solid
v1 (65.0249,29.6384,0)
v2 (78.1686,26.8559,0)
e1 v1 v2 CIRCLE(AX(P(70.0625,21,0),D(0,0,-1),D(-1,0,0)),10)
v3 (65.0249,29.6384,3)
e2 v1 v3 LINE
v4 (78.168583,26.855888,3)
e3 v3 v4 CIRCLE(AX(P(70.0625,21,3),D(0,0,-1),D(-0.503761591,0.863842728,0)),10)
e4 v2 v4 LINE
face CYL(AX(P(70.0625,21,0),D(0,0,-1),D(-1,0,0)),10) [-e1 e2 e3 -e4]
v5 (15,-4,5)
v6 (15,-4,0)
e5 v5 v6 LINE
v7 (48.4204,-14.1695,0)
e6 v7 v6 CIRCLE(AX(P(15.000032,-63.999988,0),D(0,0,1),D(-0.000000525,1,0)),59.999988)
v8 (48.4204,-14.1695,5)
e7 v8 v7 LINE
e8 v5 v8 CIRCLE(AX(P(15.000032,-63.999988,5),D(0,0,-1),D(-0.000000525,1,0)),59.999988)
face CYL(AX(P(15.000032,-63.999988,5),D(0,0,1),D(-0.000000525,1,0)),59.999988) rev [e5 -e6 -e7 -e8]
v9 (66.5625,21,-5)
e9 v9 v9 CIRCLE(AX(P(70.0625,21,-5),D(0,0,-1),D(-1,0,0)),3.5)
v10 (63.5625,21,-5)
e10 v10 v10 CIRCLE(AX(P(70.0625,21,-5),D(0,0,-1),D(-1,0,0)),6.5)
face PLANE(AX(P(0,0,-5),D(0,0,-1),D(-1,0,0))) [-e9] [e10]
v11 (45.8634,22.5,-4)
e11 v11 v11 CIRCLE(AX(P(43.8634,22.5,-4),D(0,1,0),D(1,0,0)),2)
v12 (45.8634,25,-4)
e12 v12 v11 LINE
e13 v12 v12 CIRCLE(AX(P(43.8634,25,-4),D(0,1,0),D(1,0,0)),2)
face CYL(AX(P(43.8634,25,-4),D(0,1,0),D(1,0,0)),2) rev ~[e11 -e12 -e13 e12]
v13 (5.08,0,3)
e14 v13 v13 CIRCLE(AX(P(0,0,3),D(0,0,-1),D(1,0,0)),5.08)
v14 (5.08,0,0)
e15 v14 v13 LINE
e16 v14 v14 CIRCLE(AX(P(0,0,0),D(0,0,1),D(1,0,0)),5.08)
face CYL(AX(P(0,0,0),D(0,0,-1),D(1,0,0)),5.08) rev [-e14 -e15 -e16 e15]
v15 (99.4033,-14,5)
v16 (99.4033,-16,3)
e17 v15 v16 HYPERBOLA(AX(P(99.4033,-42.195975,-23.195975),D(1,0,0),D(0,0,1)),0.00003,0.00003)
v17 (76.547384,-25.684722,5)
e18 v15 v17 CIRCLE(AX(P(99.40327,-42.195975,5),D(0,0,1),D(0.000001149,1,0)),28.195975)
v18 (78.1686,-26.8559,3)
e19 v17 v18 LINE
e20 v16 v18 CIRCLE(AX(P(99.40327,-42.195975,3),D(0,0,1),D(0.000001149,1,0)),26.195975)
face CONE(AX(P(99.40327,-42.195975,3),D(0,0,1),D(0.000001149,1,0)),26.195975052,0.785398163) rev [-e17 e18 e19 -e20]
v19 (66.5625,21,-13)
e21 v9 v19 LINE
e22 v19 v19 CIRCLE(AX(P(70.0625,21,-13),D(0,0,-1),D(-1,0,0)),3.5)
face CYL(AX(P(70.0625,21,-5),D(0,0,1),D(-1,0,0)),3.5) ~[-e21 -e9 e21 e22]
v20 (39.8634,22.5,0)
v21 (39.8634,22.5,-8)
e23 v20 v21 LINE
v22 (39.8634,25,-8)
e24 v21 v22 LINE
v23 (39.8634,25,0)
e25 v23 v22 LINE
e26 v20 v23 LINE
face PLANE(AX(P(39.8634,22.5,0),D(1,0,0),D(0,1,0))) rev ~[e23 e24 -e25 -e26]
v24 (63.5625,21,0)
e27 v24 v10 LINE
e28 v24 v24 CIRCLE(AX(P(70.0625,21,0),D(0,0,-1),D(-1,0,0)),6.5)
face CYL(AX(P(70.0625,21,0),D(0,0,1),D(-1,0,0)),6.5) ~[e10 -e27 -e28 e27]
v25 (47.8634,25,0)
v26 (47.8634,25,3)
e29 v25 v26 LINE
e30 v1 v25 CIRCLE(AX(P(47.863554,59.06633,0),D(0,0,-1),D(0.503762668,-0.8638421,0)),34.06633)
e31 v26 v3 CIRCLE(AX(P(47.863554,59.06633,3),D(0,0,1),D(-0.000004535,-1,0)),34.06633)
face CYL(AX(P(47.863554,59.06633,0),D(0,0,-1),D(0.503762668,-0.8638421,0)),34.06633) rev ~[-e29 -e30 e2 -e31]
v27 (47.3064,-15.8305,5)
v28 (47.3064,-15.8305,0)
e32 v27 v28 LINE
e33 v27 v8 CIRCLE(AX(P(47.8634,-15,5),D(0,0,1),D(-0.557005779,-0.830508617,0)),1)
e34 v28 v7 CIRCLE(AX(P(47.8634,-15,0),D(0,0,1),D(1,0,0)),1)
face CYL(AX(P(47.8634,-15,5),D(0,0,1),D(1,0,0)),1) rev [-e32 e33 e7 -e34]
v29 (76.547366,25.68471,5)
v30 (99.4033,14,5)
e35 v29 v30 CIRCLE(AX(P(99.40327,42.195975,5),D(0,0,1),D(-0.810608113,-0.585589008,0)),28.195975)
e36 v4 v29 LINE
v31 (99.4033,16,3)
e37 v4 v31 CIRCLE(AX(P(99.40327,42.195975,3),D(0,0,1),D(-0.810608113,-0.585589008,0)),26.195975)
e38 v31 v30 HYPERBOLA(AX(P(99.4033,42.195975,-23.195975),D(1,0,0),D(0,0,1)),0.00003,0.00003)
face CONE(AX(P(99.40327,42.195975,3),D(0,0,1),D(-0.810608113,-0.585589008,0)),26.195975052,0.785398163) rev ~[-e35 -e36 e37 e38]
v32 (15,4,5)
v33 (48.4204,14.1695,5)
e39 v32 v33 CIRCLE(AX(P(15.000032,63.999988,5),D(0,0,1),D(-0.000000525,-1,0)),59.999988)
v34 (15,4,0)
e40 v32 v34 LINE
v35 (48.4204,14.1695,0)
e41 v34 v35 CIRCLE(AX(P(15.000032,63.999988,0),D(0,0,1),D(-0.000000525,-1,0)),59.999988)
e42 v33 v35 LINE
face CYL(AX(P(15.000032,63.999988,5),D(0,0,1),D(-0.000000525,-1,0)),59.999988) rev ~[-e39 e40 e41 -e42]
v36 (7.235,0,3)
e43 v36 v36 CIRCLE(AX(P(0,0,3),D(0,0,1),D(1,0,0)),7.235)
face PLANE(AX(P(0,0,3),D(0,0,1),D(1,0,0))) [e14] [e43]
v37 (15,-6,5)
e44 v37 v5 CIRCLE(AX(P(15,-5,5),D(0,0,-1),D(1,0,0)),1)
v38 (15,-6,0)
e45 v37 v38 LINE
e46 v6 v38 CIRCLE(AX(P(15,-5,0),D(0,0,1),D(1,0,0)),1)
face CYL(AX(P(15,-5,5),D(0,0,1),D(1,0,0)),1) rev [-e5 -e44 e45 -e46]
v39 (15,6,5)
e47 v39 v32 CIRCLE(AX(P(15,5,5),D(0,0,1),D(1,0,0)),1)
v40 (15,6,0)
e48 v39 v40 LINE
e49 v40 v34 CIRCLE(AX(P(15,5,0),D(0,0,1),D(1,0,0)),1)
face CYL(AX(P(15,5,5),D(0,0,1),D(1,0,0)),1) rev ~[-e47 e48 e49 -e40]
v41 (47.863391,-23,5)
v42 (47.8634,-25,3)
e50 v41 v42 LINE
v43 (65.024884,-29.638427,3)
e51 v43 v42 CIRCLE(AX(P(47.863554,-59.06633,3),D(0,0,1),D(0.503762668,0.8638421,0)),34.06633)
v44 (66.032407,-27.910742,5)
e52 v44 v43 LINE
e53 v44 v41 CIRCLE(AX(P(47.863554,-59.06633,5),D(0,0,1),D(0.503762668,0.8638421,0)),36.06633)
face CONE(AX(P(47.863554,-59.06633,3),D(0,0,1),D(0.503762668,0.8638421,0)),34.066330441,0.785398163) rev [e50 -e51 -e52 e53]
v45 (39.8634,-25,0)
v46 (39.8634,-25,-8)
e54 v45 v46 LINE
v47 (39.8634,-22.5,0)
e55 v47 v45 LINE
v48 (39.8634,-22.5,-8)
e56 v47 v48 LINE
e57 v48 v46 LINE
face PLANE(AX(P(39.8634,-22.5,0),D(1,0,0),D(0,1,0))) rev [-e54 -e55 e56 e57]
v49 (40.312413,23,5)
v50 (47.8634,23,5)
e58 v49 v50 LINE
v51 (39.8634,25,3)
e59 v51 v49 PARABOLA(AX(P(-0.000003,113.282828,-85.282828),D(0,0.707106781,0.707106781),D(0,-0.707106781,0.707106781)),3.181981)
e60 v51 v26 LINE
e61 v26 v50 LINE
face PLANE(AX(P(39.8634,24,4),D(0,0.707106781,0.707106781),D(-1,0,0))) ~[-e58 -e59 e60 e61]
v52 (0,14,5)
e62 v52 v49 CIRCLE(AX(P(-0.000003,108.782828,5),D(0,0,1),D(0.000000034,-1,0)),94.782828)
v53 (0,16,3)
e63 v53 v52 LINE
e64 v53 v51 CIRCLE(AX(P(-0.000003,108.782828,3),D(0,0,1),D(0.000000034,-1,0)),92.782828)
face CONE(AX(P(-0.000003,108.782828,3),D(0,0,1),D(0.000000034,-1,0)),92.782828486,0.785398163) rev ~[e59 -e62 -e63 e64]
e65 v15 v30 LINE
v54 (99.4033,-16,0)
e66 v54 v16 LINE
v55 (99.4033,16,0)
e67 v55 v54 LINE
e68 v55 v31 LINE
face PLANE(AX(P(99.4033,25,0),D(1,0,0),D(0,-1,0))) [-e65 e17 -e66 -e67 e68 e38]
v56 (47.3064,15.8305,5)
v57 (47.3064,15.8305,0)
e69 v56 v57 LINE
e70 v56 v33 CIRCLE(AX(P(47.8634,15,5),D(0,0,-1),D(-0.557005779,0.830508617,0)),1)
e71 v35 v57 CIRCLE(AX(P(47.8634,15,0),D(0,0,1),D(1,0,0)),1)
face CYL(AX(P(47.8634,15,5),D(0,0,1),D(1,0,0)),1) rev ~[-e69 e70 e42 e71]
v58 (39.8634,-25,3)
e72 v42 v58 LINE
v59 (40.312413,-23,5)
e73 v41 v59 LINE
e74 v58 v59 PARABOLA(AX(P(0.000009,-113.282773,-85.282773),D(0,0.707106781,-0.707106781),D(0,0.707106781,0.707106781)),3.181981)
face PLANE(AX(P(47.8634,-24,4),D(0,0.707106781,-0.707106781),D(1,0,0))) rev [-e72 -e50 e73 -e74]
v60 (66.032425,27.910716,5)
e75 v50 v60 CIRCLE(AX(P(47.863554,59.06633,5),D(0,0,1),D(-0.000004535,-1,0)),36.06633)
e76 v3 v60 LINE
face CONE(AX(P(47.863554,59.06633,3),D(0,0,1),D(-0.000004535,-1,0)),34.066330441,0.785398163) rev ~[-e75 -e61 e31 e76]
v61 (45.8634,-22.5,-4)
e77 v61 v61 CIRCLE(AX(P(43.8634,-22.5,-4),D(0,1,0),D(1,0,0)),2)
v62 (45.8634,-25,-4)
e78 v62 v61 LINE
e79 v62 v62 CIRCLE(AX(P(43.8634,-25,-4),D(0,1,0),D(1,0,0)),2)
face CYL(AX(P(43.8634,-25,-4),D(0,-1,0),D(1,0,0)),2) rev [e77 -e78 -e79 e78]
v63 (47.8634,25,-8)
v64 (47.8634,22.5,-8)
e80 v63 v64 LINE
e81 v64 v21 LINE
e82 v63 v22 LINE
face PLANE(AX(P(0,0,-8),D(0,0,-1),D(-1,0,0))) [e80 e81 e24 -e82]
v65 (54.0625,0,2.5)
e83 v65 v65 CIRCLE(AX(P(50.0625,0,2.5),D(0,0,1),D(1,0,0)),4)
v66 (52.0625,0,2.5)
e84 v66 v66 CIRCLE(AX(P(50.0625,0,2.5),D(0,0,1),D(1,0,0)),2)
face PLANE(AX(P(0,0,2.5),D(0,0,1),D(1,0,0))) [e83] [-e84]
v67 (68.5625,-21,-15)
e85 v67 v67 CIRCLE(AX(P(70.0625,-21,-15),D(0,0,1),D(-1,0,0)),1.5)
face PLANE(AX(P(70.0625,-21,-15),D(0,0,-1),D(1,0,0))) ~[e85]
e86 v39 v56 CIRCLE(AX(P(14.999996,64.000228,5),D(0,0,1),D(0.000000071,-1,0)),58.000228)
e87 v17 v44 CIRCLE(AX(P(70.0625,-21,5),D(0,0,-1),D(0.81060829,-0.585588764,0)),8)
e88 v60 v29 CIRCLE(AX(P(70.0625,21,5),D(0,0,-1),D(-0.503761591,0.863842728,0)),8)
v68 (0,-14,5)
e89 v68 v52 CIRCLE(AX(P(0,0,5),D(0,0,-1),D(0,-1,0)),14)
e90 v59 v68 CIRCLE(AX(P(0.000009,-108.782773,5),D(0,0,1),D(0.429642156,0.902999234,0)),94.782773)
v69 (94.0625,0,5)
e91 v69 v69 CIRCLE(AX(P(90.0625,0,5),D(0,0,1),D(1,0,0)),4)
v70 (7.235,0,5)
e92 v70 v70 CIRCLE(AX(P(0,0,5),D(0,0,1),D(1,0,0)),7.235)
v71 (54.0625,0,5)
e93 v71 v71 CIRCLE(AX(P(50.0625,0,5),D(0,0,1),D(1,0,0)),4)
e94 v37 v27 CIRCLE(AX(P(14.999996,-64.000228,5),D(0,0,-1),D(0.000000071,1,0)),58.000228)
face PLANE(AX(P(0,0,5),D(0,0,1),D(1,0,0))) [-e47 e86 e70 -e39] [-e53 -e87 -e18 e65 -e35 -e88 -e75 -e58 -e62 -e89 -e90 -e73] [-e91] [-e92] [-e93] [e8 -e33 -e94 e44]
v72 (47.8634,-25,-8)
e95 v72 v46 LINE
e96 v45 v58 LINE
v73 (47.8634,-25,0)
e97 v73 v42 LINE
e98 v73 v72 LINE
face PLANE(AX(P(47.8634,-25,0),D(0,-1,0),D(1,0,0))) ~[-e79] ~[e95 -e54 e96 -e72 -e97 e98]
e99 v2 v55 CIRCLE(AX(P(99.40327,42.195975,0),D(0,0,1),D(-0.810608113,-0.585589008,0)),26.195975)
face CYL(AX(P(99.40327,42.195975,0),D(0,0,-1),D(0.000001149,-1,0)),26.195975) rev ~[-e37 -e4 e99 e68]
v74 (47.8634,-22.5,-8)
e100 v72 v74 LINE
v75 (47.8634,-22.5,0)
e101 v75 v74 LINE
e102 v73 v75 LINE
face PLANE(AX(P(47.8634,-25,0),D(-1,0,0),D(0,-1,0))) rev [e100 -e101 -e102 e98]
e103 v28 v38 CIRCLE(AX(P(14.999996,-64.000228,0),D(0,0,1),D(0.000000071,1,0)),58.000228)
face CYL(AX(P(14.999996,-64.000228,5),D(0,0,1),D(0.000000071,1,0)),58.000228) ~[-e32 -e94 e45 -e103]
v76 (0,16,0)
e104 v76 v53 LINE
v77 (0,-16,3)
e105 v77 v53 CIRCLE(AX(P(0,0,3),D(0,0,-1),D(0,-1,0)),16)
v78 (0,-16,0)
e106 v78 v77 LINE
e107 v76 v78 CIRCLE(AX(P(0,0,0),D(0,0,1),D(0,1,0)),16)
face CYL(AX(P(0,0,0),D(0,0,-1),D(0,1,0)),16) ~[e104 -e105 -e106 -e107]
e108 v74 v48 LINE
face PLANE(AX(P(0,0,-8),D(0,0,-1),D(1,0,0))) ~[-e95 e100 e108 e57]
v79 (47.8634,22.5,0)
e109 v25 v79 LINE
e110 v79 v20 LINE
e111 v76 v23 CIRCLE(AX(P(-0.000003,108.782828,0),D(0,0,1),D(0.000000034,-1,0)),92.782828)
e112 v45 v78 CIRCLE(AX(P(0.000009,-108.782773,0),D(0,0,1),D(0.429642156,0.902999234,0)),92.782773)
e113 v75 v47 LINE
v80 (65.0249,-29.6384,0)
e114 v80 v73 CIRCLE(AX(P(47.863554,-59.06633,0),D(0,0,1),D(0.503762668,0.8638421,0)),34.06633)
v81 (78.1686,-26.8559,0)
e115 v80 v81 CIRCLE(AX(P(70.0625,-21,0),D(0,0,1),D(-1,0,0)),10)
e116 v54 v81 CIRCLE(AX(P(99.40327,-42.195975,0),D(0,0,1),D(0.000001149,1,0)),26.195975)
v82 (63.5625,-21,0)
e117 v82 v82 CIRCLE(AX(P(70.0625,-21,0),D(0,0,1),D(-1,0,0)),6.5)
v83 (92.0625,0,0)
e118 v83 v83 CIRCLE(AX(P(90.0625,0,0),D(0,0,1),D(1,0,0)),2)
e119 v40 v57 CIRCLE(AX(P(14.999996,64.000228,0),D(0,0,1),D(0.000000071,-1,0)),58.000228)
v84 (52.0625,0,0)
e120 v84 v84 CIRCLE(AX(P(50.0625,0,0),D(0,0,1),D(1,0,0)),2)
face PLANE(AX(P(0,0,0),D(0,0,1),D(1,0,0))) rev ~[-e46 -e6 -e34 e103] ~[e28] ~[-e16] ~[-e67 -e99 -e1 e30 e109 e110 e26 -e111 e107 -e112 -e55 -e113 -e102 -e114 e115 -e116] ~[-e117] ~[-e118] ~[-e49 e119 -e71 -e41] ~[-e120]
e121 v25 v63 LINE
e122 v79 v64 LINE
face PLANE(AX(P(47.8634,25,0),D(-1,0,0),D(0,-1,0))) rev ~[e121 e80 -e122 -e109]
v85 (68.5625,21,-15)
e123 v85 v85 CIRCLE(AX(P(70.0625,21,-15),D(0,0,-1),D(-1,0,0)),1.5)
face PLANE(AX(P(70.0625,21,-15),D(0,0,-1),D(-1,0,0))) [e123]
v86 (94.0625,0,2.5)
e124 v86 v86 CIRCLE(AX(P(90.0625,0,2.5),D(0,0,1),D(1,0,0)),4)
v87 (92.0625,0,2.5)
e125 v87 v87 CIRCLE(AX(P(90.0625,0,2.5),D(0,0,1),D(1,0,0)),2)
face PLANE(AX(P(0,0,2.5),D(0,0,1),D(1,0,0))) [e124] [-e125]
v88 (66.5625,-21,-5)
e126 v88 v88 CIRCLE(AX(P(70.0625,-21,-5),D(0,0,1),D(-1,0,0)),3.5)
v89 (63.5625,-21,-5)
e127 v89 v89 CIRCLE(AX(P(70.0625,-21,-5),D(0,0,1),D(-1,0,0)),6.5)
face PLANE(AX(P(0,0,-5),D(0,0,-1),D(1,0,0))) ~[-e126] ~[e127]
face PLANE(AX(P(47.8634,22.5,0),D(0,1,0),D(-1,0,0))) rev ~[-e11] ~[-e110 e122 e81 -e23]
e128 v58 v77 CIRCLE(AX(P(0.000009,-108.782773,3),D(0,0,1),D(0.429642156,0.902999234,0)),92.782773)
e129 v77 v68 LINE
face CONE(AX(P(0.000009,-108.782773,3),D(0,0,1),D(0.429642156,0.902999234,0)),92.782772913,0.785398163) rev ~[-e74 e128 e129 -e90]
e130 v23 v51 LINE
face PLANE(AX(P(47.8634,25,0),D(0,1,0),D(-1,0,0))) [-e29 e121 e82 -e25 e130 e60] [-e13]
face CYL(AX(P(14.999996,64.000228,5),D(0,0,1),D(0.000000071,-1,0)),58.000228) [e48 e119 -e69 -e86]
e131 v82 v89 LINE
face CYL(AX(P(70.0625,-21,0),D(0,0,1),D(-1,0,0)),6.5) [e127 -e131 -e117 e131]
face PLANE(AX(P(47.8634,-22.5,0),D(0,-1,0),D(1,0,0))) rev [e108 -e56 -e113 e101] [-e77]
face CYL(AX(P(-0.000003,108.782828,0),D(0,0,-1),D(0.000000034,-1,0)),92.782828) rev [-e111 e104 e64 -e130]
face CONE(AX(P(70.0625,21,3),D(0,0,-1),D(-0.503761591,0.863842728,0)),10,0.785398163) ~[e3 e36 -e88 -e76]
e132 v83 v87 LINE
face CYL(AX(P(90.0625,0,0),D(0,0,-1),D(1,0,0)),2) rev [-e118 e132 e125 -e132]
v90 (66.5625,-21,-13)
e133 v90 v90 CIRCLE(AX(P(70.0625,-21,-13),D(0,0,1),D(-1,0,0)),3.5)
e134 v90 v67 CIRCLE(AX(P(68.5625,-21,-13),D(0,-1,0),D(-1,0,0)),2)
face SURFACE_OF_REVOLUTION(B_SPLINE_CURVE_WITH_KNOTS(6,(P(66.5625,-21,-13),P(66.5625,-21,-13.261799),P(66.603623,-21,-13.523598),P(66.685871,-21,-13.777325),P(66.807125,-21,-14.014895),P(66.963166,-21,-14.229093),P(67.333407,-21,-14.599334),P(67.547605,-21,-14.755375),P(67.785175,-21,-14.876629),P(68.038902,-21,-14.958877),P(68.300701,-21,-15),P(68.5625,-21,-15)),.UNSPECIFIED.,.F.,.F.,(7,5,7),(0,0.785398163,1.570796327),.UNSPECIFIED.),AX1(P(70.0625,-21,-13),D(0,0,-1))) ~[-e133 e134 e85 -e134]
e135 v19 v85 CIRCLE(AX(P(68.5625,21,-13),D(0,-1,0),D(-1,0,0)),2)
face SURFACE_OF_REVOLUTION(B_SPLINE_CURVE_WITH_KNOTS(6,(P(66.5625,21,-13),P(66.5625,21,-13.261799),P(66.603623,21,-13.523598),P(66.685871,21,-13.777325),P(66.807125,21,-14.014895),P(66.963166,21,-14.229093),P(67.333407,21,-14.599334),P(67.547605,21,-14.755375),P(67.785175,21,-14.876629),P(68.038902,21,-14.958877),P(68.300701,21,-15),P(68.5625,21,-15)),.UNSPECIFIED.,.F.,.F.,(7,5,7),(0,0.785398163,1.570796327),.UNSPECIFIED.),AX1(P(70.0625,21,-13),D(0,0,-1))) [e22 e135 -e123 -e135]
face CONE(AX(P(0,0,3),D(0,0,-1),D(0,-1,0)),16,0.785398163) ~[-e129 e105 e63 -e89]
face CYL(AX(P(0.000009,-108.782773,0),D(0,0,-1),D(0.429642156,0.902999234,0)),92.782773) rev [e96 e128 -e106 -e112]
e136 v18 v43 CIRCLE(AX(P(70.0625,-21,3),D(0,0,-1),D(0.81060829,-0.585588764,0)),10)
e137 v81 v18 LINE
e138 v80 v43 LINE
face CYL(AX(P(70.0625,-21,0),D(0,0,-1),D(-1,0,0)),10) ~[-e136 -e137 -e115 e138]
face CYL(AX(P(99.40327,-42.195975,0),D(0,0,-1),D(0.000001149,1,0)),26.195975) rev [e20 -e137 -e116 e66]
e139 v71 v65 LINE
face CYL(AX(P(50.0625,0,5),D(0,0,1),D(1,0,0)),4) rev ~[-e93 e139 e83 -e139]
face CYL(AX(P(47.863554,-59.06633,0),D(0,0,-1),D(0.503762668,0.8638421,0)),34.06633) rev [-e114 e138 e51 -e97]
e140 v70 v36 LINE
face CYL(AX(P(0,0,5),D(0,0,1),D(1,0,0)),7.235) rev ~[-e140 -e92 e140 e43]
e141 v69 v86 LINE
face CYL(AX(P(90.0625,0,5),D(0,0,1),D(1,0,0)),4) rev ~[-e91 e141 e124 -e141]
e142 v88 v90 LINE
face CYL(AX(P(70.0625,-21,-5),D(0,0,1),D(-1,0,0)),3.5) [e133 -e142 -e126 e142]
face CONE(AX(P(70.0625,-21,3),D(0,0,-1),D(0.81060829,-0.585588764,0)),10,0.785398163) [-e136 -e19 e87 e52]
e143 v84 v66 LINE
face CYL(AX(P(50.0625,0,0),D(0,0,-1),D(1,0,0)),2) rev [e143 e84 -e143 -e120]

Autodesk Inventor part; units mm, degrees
ref_plane "YZ Plane" through (0, 0, 0) normal (1, 0, 0) x (0, 1, 0)
ref_plane "XZ Plane" through (0, 0, 0) normal (0, 1, 0) x (-1, 0, 0)
ref_plane "XY Plane" through (0, 0, 0) normal (0, 0, 1) x (1, 0, 0)
sketch "Sketch1" plane through (0, 0, 0) normal (0, 0, 1) x (1, 0, 0)
  circle A0 centre (0, 0) radius 5.08
  arc A1 (0, 16) -> (0, -16) centre (0, 0) ccw
  line L0 (0, 16) -> (99.4033, 16)
  line L1 (99.4033, 16) -> (99.4033, -16)
  line L2 (99.4033, -16) -> (0, -16)
  line L3 (0, -16) -> (0, 16) construction
  line L4 (39.8634, 25) -> (99.4033, 25)
  line L5 (99.4033, 25) -> (99.4033, -25)
  line L6 (99.4033, -25) -> (39.8634, -25)
  line L7 (39.8634, -25) -> (39.8634, 25)
  arc A2 (39.8634, -25) -> (0, -16) centre (0, -108.7828) ccw
  arc A3 (0, 16) -> (39.8634, 25) centre (0, 108.7828) ccw
  circle A4 centre (50.0625, 0) radius 2
  circle A5 centre (90.0625, 0) radius 2
  line L8 (-16, 0) -> (99.4033, 0) construction
  point P0 (39.8634, 0)
  dimension "d1" = 10.16
  dimension "d3" = 50
  dimension "d4" = 59.5399
  dimension "d12" = 4
  dimension "d13" = 40
  dimension "d14" = 50.0625
  dimension "d15" = 9.3408
  dimension "d44" = 16
extrude "Extrusion1" add sketch "Sketch1" along normal blind 5
ref_plane "Work Plane1" through (39.8634, 0, 0) normal (0, -1, 0) x (1, 0, 0)
sketch "Sketch4" plane through (0, 0, 5) normal (0, 0, 1) x (1, 0, 0)
  arc A0 (15, 6) -> (47.3064, 15.8305) centre (15, 64.0002) ccw
  arc A1 (15, 4) -> (48.4204, 14.1695) centre (15, 64.0002) ccw
  circle A2 centre (47.8634, 15) radius 1
  circle A3 centre (15, 5) radius 1
  arc A4 (0, 16) -> (39.8634, 25) centre (0, 108.7828) ccw projected
  line L0 (99.4033, 25) -> (39.8634, 25) projected
  line L1 (122.484, 0) -> (-39.0807, 0) projected
  line L2 (15, 4) -> (47.8634, 4) construction
  point P0 (0, 0)
  dimension "d16" = 2
  dimension "d17" = 10
  dimension "d18" = 8
  dimension "d19" = 15
  dimension "d20" = 5
extrude "Extrusion3" cut sketch "Sketch4" against normal through all
mirror "Mirror1" about plane through (39.8634, 0, 0) normal (0, -1, 0) of "Extrusion3"
sketch "Sketch5" plane through (0, 0, 0) normal (0, 0, -1) x (-1, 0, 0)
  arc A0 (-15, -4) -> (-48.4204, -14.1695) centre (-15, -64.0002) ccw projected
  arc A1 (-15, -6) -> (-15, -4) centre (-15, -5) ccw projected
  arc A2 (-15, -6) -> (-47.3064, -15.8305) centre (-15, -64.0002) ccw projected
  arc A3 (-48.4204, -14.1695) -> (-47.3064, -15.8305) centre (-47.8634, -15) ccw projected
  arc A4 (-47.3064, 15.8305) -> (-15, 6) centre (-15, 64.0002) ccw projected
  arc A5 (-15, 4) -> (-15, 6) centre (-15, 5) ccw projected
  arc A6 (-48.4204, 14.1695) -> (-15, 4) centre (-15, 64.0002) ccw projected
  arc A7 (-47.3064, 15.8305) -> (-48.4204, 14.1695) centre (-47.8634, 15) ccw projected
  arc A8 (0, -16) -> (0, 16) centre (0, 0) ccw projected
  arc A9 (-39.8634, 25) -> (0, 16) centre (0, 108.7828) ccw projected
  line L0 (-99.4033, 25) -> (-39.8634, 25) projected
  line L1 (-99.4033, -25) -> (-99.4033, 25) projected
  line L2 (-39.8634, -25) -> (-99.4033, -25) projected
  arc A10 (0, -16) -> (-39.8634, -25) centre (0, -108.7828) ccw projected
  circle A11 centre (-50.0625, 0) radius 2 projected
  circle A12 centre (-90.0625, 0) radius 2 projected
  circle A13 centre (0, 0) radius 5.08 projected
  line L3 (-39.8634, 25) -> (-47.8634, 25)
  line L4 (-47.8634, 25) -> (-47.8634, 22.5)
  line L5 (-47.8634, 22.5) -> (-39.8634, 22.5)
  line L6 (-39.8634, 22.5) -> (-39.8634, 25)
  dimension "d23" = 8
  dimension "d24" = 2.5
extrude "Extrusion4" add sketch "Sketch5" along normal blind 8 contours L6 L5 L4 L0
sketch "Sketch6" plane through (39.8634, 25, 5) normal (0, 1, 0) x (1, 0, 0)
  line L0 (59.5399, 5) -> (8, 5) projected
  line L1 (8, 5) -> (8, 13) projected
  line L2 (0, 13) -> (8, 13) projected
  line L3 (0, 5) -> (0, 13) projected
  line L4 (0, 5) -> (0, 0) projected
  line L5 (59.5399, 0) -> (0, 0) projected
  line L6 (59.5399, 5) -> (59.5399, 0) projected
  circle A0 centre (4, 9) radius 2
  line L7 (4, 13) -> (4, 9) construction
  point P0 (-39.8634, 5)
  dimension "d27" = 4
  dimension "d28" = 4
extrude "Extrusion5" cut sketch "Sketch6" against normal up to next contours A0
mirror "Mirror2" about plane through (39.8634, 0, 0) normal (0, -1, 0) of "Extrusion4", "Extrusion5"
sketch "Sketch7" plane through (0, 0, 0) normal (0, 0, -1) x (-1, 0, 0)
  circle A0 centre (0, 0) radius 5.08 projected
  circle A1 centre (-90.0625, 0) radius 2 projected
  circle A2 centre (-50.0625, 0) radius 2 projected
  arc A3 (-47.3064, 15.8305) -> (-15, 6) centre (-15, 64.0002) ccw projected
  arc A4 (-15, 4) -> (-15, 6) centre (-15, 5) ccw projected
  arc A5 (-48.4204, 14.1695) -> (-15, 4) centre (-15, 64.0002) ccw projected
  arc A6 (-47.3064, 15.8305) -> (-48.4204, 14.1695) centre (-47.8634, 15) ccw projected
  arc A7 (-15, -4) -> (-48.4204, -14.1695) centre (-15, -64.0002) ccw projected
  arc A8 (-15, -6) -> (-15, -4) centre (-15, -5) ccw projected
  arc A9 (-15, -6) -> (-47.3064, -15.8305) centre (-15, -64.0002) ccw projected
  arc A10 (-48.4204, -14.1695) -> (-47.3064, -15.8305) centre (-47.8634, -15) ccw projected
  line L0 (-47.8634, -25) -> (-47.8634, -22.5) projected
  line L1 (-47.8634, -22.5) -> (-39.8634, -22.5) projected
  line L2 (-39.8634, -22.5) -> (-39.8634, -25) projected
  arc A11 (0, -16) -> (-39.8634, -25) centre (0, -108.7828) ccw projected
  arc A12 (0, -16) -> (0, 16) centre (0, 0) ccw projected
  arc A13 (-39.8634, 25) -> (0, 16) centre (0, 108.7828) ccw projected
  line L3 (-39.8634, 25) -> (-39.8634, 22.5) projected
  line L4 (-39.8634, 22.5) -> (-47.8634, 22.5) projected
  line L5 (-47.8634, 22.5) -> (-47.8634, 25) projected
  line L6 (-99.4033, 25) -> (-47.8634, 25) projected
  line L7 (-99.4033, -25) -> (-99.4033, 25) projected
  line L8 (-47.8634, -25) -> (-99.4033, -25) projected
  circle A14 centre (-70.0625, 21) radius 10
  arc A15 (-65.0249, 29.6384) -> (-47.8634, 25) centre (-47.8634, 59.0667) ccw
  line L9 (-99.4033, 25) -> (-47.8634, 25) projected
  line L10 (39.0807, 0) -> (-122.484, 0) projected
  line L11 (-70.0625, -25) -> (-70.0625, 21) construction
  line L12 (-90.0625, 0) -> (-50.0625, 0) construction
  line L13 (0, 16) -> (-99.4033, 16) construction
  arc A16 (-99.4033, 16) -> (-78.1686, 26.8559) centre (-99.4033, 42.1961) ccw
  point P0 (-92.2616, 25)
  point P1 (-75.1001, 29.6384)
  point P2 (-70.0625, 0)
  point P3 (-60.8973, 25)
  point P4 (-79.2277, 25)
  point P5 (-79.6415, 25)
  dimension "d31" = 20
  dimension "d32" = 21
extrude "Extrusion6" add sketch "Sketch7" against normal up to surface (5 mm away) contours L6 A14 A15 | L6 A14 | A16 A14 L6 picked at (-67.4658, 26.7505)
sketch "Sketch8" plane through (0, 0, 0) normal (0, 0, -1) x (-1, 0, 0)
  circle A0 centre (0, 0) radius 5.08 projected
  circle A1 centre (-90.0625, 0) radius 2 projected
  circle A2 centre (-50.0625, 0) radius 2 projected
  arc A3 (-47.3064, 15.8305) -> (-15, 6) centre (-15, 64.0002) ccw projected
  arc A4 (-15, 4) -> (-15, 6) centre (-15, 5) ccw projected
  arc A5 (-48.4204, 14.1695) -> (-15, 4) centre (-15, 64.0002) ccw projected
  arc A6 (-47.3064, 15.8305) -> (-48.4204, 14.1695) centre (-47.8634, 15) ccw projected
  arc A7 (-15, -4) -> (-48.4204, -14.1695) centre (-15, -64.0002) ccw projected
  arc A8 (-15, -6) -> (-15, -4) centre (-15, -5) ccw projected
  arc A9 (-15, -6) -> (-47.3064, -15.8305) centre (-15, -64.0002) ccw projected
  arc A10 (-48.4204, -14.1695) -> (-47.3064, -15.8305) centre (-47.8634, -15) ccw projected
  line L0 (-47.8634, -25) -> (-47.8634, -22.5) projected
  line L1 (-47.8634, -22.5) -> (-39.8634, -22.5) projected
  line L2 (-39.8634, -22.5) -> (-39.8634, -25) projected
  arc A11 (0, -16) -> (-39.8634, -25) centre (0, -108.7828) ccw projected
  arc A12 (0, -16) -> (0, 16) centre (0, 0) ccw projected
  arc A13 (-39.8634, 25) -> (0, 16) centre (0, 108.7828) ccw projected
  line L3 (-39.8634, 25) -> (-39.8634, 22.5) projected
  line L4 (-39.8634, 22.5) -> (-47.8634, 22.5) projected
  line L5 (-47.8634, 22.5) -> (-47.8634, 25) projected
  arc A14 (-65.0249, 29.6384) -> (-47.8634, 25) centre (-47.8634, 59.0667) ccw projected
  arc A15 (-65.0249, 29.6384) -> (-78.1686, 26.8559) centre (-70.0625, 21) ccw projected
  line L6 (-99.4033, 25) -> (-79.6415, 25) projected
  line L7 (-99.4033, -25) -> (-99.4033, 25) projected
  line L8 (-47.8634, -25) -> (-99.4033, -25) projected
  circle A16 centre (-70.0625, 21) radius 6.5
  arc A17 (-79.6415, 25) -> (-78.1686, 26.8559) centre (-99.4033, 42.1961) ccw projected
  dimension "d35" = 13
extrude "Extrusion7" add sketch "Sketch8" along normal blind 5 contours A16
sketch "Sketch9" plane through (70.0625, 21, -5) normal (0, 0, -1) x (-1, 0, 0)
  circle A0 centre (0, 0) radius 3.5
  circle A1 centre (0, 0) radius 6.5 projected
  point P0 (70.0625, -21)
  dimension "d38" = 7
extrude "Extrusion8" add sketch "Sketch9" along normal blind 10 contours A0
fillet "Fillet1" radius 2 1 edges at (73.5625, 21, -15)
extrude "Extrusion9" cut sketch "Sketch7" against normal through all contours L7 L6 A16
mirror "Mirror3" about plane through (39.8634, 0, 0) normal (0, -1, 0) of "Extrusion6", "Extrusion7", "Extrusion8", "Fillet1", "Extrusion9"
sketch "Sketch10" plane through (0, 0, 5) normal (0, 0, 1) x (1, 0, 0)
  arc A0 (48.4204, -14.1695) -> (15, -4) centre (15, -64.0002) ccw projected
  arc A1 (47.3064, -15.8305) -> (48.4204, -14.1695) centre (47.8634, -15) ccw projected
  arc A2 (47.3064, -15.8305) -> (15, -6) centre (15, -64.0002) ccw projected
  arc A3 (15, -4) -> (15, -6) centre (15, -5) ccw projected
  arc A4 (15, 6) -> (47.3064, 15.8305) centre (15, 64.0002) ccw projected
  arc A5 (48.4204, 14.1695) -> (47.3064, 15.8305) centre (47.8634, 15) ccw projected
  arc A6 (15, 4) -> (48.4204, 14.1695) centre (15, 64.0002) ccw projected
  arc A7 (15, 6) -> (15, 4) centre (15, 5) ccw projected
  arc A8 (99.4033, -16) -> (78.1686, -26.8559) centre (99.4033, -42.1961) ccw projected
  line L0 (99.4033, -16) -> (99.4033, 16) projected
  arc A9 (78.1686, 26.8559) -> (99.4033, 16) centre (99.4033, 42.1961) ccw projected
  line L1 (47.8634, 25) -> (39.8634, 25) projected
  arc A10 (78.1686, 26.8559) -> (65.0249, 29.6384) centre (70.0625, 21) ccw projected
  arc A11 (47.8634, 25) -> (65.0249, 29.6384) centre (47.8634, 59.0667) ccw projected
  arc A12 (0, 16) -> (39.8634, 25) centre (0, 108.7828) ccw projected
  arc A13 (0, 16) -> (0, -16) centre (0, 0) ccw projected
  arc A14 (39.8634, -25) -> (0, -16) centre (0, -108.7828) ccw projected
  line L2 (39.8634, -25) -> (47.8634, -25) projected
  arc A15 (65.0249, -29.6384) -> (47.8634, -25) centre (47.8634, -59.0667) ccw projected
  arc A16 (65.0249, -29.6384) -> (78.1686, -26.8559) centre (70.0625, -21) ccw projected
  circle A17 centre (50.0625, 0) radius 2 projected
  circle A18 centre (90.0625, 0) radius 2 projected
  circle A19 centre (0, 0) radius 5.08 projected
  circle A20 centre (50.0625, 0) radius 4
  circle A21 centre (90.0625, 0) radius 4
  dimension "d45" = 8
extrude "Extrusion10" cut sketch "Sketch10" against normal blind 2.5 contours A20 | A21
sketch "Sketch11" plane through (0, 0, 5) normal (0, 0, 1) x (1, 0, 0)
  circle A0 centre (0, 0) radius 7.235
  dimension "d48" = 14.47
extrude "Extrusion11" cut sketch "Sketch11" against normal blind 2
chamfer "Chamfer1" distance 2 angle 45 5 edges at (20.4334, 18.278, 5) (-16, 0, 5) (20.4334, -18.278, 5) (43.8634, 25, 5) (43.8634, -25, 5)
properties part number "Bearing_Arm_2"
